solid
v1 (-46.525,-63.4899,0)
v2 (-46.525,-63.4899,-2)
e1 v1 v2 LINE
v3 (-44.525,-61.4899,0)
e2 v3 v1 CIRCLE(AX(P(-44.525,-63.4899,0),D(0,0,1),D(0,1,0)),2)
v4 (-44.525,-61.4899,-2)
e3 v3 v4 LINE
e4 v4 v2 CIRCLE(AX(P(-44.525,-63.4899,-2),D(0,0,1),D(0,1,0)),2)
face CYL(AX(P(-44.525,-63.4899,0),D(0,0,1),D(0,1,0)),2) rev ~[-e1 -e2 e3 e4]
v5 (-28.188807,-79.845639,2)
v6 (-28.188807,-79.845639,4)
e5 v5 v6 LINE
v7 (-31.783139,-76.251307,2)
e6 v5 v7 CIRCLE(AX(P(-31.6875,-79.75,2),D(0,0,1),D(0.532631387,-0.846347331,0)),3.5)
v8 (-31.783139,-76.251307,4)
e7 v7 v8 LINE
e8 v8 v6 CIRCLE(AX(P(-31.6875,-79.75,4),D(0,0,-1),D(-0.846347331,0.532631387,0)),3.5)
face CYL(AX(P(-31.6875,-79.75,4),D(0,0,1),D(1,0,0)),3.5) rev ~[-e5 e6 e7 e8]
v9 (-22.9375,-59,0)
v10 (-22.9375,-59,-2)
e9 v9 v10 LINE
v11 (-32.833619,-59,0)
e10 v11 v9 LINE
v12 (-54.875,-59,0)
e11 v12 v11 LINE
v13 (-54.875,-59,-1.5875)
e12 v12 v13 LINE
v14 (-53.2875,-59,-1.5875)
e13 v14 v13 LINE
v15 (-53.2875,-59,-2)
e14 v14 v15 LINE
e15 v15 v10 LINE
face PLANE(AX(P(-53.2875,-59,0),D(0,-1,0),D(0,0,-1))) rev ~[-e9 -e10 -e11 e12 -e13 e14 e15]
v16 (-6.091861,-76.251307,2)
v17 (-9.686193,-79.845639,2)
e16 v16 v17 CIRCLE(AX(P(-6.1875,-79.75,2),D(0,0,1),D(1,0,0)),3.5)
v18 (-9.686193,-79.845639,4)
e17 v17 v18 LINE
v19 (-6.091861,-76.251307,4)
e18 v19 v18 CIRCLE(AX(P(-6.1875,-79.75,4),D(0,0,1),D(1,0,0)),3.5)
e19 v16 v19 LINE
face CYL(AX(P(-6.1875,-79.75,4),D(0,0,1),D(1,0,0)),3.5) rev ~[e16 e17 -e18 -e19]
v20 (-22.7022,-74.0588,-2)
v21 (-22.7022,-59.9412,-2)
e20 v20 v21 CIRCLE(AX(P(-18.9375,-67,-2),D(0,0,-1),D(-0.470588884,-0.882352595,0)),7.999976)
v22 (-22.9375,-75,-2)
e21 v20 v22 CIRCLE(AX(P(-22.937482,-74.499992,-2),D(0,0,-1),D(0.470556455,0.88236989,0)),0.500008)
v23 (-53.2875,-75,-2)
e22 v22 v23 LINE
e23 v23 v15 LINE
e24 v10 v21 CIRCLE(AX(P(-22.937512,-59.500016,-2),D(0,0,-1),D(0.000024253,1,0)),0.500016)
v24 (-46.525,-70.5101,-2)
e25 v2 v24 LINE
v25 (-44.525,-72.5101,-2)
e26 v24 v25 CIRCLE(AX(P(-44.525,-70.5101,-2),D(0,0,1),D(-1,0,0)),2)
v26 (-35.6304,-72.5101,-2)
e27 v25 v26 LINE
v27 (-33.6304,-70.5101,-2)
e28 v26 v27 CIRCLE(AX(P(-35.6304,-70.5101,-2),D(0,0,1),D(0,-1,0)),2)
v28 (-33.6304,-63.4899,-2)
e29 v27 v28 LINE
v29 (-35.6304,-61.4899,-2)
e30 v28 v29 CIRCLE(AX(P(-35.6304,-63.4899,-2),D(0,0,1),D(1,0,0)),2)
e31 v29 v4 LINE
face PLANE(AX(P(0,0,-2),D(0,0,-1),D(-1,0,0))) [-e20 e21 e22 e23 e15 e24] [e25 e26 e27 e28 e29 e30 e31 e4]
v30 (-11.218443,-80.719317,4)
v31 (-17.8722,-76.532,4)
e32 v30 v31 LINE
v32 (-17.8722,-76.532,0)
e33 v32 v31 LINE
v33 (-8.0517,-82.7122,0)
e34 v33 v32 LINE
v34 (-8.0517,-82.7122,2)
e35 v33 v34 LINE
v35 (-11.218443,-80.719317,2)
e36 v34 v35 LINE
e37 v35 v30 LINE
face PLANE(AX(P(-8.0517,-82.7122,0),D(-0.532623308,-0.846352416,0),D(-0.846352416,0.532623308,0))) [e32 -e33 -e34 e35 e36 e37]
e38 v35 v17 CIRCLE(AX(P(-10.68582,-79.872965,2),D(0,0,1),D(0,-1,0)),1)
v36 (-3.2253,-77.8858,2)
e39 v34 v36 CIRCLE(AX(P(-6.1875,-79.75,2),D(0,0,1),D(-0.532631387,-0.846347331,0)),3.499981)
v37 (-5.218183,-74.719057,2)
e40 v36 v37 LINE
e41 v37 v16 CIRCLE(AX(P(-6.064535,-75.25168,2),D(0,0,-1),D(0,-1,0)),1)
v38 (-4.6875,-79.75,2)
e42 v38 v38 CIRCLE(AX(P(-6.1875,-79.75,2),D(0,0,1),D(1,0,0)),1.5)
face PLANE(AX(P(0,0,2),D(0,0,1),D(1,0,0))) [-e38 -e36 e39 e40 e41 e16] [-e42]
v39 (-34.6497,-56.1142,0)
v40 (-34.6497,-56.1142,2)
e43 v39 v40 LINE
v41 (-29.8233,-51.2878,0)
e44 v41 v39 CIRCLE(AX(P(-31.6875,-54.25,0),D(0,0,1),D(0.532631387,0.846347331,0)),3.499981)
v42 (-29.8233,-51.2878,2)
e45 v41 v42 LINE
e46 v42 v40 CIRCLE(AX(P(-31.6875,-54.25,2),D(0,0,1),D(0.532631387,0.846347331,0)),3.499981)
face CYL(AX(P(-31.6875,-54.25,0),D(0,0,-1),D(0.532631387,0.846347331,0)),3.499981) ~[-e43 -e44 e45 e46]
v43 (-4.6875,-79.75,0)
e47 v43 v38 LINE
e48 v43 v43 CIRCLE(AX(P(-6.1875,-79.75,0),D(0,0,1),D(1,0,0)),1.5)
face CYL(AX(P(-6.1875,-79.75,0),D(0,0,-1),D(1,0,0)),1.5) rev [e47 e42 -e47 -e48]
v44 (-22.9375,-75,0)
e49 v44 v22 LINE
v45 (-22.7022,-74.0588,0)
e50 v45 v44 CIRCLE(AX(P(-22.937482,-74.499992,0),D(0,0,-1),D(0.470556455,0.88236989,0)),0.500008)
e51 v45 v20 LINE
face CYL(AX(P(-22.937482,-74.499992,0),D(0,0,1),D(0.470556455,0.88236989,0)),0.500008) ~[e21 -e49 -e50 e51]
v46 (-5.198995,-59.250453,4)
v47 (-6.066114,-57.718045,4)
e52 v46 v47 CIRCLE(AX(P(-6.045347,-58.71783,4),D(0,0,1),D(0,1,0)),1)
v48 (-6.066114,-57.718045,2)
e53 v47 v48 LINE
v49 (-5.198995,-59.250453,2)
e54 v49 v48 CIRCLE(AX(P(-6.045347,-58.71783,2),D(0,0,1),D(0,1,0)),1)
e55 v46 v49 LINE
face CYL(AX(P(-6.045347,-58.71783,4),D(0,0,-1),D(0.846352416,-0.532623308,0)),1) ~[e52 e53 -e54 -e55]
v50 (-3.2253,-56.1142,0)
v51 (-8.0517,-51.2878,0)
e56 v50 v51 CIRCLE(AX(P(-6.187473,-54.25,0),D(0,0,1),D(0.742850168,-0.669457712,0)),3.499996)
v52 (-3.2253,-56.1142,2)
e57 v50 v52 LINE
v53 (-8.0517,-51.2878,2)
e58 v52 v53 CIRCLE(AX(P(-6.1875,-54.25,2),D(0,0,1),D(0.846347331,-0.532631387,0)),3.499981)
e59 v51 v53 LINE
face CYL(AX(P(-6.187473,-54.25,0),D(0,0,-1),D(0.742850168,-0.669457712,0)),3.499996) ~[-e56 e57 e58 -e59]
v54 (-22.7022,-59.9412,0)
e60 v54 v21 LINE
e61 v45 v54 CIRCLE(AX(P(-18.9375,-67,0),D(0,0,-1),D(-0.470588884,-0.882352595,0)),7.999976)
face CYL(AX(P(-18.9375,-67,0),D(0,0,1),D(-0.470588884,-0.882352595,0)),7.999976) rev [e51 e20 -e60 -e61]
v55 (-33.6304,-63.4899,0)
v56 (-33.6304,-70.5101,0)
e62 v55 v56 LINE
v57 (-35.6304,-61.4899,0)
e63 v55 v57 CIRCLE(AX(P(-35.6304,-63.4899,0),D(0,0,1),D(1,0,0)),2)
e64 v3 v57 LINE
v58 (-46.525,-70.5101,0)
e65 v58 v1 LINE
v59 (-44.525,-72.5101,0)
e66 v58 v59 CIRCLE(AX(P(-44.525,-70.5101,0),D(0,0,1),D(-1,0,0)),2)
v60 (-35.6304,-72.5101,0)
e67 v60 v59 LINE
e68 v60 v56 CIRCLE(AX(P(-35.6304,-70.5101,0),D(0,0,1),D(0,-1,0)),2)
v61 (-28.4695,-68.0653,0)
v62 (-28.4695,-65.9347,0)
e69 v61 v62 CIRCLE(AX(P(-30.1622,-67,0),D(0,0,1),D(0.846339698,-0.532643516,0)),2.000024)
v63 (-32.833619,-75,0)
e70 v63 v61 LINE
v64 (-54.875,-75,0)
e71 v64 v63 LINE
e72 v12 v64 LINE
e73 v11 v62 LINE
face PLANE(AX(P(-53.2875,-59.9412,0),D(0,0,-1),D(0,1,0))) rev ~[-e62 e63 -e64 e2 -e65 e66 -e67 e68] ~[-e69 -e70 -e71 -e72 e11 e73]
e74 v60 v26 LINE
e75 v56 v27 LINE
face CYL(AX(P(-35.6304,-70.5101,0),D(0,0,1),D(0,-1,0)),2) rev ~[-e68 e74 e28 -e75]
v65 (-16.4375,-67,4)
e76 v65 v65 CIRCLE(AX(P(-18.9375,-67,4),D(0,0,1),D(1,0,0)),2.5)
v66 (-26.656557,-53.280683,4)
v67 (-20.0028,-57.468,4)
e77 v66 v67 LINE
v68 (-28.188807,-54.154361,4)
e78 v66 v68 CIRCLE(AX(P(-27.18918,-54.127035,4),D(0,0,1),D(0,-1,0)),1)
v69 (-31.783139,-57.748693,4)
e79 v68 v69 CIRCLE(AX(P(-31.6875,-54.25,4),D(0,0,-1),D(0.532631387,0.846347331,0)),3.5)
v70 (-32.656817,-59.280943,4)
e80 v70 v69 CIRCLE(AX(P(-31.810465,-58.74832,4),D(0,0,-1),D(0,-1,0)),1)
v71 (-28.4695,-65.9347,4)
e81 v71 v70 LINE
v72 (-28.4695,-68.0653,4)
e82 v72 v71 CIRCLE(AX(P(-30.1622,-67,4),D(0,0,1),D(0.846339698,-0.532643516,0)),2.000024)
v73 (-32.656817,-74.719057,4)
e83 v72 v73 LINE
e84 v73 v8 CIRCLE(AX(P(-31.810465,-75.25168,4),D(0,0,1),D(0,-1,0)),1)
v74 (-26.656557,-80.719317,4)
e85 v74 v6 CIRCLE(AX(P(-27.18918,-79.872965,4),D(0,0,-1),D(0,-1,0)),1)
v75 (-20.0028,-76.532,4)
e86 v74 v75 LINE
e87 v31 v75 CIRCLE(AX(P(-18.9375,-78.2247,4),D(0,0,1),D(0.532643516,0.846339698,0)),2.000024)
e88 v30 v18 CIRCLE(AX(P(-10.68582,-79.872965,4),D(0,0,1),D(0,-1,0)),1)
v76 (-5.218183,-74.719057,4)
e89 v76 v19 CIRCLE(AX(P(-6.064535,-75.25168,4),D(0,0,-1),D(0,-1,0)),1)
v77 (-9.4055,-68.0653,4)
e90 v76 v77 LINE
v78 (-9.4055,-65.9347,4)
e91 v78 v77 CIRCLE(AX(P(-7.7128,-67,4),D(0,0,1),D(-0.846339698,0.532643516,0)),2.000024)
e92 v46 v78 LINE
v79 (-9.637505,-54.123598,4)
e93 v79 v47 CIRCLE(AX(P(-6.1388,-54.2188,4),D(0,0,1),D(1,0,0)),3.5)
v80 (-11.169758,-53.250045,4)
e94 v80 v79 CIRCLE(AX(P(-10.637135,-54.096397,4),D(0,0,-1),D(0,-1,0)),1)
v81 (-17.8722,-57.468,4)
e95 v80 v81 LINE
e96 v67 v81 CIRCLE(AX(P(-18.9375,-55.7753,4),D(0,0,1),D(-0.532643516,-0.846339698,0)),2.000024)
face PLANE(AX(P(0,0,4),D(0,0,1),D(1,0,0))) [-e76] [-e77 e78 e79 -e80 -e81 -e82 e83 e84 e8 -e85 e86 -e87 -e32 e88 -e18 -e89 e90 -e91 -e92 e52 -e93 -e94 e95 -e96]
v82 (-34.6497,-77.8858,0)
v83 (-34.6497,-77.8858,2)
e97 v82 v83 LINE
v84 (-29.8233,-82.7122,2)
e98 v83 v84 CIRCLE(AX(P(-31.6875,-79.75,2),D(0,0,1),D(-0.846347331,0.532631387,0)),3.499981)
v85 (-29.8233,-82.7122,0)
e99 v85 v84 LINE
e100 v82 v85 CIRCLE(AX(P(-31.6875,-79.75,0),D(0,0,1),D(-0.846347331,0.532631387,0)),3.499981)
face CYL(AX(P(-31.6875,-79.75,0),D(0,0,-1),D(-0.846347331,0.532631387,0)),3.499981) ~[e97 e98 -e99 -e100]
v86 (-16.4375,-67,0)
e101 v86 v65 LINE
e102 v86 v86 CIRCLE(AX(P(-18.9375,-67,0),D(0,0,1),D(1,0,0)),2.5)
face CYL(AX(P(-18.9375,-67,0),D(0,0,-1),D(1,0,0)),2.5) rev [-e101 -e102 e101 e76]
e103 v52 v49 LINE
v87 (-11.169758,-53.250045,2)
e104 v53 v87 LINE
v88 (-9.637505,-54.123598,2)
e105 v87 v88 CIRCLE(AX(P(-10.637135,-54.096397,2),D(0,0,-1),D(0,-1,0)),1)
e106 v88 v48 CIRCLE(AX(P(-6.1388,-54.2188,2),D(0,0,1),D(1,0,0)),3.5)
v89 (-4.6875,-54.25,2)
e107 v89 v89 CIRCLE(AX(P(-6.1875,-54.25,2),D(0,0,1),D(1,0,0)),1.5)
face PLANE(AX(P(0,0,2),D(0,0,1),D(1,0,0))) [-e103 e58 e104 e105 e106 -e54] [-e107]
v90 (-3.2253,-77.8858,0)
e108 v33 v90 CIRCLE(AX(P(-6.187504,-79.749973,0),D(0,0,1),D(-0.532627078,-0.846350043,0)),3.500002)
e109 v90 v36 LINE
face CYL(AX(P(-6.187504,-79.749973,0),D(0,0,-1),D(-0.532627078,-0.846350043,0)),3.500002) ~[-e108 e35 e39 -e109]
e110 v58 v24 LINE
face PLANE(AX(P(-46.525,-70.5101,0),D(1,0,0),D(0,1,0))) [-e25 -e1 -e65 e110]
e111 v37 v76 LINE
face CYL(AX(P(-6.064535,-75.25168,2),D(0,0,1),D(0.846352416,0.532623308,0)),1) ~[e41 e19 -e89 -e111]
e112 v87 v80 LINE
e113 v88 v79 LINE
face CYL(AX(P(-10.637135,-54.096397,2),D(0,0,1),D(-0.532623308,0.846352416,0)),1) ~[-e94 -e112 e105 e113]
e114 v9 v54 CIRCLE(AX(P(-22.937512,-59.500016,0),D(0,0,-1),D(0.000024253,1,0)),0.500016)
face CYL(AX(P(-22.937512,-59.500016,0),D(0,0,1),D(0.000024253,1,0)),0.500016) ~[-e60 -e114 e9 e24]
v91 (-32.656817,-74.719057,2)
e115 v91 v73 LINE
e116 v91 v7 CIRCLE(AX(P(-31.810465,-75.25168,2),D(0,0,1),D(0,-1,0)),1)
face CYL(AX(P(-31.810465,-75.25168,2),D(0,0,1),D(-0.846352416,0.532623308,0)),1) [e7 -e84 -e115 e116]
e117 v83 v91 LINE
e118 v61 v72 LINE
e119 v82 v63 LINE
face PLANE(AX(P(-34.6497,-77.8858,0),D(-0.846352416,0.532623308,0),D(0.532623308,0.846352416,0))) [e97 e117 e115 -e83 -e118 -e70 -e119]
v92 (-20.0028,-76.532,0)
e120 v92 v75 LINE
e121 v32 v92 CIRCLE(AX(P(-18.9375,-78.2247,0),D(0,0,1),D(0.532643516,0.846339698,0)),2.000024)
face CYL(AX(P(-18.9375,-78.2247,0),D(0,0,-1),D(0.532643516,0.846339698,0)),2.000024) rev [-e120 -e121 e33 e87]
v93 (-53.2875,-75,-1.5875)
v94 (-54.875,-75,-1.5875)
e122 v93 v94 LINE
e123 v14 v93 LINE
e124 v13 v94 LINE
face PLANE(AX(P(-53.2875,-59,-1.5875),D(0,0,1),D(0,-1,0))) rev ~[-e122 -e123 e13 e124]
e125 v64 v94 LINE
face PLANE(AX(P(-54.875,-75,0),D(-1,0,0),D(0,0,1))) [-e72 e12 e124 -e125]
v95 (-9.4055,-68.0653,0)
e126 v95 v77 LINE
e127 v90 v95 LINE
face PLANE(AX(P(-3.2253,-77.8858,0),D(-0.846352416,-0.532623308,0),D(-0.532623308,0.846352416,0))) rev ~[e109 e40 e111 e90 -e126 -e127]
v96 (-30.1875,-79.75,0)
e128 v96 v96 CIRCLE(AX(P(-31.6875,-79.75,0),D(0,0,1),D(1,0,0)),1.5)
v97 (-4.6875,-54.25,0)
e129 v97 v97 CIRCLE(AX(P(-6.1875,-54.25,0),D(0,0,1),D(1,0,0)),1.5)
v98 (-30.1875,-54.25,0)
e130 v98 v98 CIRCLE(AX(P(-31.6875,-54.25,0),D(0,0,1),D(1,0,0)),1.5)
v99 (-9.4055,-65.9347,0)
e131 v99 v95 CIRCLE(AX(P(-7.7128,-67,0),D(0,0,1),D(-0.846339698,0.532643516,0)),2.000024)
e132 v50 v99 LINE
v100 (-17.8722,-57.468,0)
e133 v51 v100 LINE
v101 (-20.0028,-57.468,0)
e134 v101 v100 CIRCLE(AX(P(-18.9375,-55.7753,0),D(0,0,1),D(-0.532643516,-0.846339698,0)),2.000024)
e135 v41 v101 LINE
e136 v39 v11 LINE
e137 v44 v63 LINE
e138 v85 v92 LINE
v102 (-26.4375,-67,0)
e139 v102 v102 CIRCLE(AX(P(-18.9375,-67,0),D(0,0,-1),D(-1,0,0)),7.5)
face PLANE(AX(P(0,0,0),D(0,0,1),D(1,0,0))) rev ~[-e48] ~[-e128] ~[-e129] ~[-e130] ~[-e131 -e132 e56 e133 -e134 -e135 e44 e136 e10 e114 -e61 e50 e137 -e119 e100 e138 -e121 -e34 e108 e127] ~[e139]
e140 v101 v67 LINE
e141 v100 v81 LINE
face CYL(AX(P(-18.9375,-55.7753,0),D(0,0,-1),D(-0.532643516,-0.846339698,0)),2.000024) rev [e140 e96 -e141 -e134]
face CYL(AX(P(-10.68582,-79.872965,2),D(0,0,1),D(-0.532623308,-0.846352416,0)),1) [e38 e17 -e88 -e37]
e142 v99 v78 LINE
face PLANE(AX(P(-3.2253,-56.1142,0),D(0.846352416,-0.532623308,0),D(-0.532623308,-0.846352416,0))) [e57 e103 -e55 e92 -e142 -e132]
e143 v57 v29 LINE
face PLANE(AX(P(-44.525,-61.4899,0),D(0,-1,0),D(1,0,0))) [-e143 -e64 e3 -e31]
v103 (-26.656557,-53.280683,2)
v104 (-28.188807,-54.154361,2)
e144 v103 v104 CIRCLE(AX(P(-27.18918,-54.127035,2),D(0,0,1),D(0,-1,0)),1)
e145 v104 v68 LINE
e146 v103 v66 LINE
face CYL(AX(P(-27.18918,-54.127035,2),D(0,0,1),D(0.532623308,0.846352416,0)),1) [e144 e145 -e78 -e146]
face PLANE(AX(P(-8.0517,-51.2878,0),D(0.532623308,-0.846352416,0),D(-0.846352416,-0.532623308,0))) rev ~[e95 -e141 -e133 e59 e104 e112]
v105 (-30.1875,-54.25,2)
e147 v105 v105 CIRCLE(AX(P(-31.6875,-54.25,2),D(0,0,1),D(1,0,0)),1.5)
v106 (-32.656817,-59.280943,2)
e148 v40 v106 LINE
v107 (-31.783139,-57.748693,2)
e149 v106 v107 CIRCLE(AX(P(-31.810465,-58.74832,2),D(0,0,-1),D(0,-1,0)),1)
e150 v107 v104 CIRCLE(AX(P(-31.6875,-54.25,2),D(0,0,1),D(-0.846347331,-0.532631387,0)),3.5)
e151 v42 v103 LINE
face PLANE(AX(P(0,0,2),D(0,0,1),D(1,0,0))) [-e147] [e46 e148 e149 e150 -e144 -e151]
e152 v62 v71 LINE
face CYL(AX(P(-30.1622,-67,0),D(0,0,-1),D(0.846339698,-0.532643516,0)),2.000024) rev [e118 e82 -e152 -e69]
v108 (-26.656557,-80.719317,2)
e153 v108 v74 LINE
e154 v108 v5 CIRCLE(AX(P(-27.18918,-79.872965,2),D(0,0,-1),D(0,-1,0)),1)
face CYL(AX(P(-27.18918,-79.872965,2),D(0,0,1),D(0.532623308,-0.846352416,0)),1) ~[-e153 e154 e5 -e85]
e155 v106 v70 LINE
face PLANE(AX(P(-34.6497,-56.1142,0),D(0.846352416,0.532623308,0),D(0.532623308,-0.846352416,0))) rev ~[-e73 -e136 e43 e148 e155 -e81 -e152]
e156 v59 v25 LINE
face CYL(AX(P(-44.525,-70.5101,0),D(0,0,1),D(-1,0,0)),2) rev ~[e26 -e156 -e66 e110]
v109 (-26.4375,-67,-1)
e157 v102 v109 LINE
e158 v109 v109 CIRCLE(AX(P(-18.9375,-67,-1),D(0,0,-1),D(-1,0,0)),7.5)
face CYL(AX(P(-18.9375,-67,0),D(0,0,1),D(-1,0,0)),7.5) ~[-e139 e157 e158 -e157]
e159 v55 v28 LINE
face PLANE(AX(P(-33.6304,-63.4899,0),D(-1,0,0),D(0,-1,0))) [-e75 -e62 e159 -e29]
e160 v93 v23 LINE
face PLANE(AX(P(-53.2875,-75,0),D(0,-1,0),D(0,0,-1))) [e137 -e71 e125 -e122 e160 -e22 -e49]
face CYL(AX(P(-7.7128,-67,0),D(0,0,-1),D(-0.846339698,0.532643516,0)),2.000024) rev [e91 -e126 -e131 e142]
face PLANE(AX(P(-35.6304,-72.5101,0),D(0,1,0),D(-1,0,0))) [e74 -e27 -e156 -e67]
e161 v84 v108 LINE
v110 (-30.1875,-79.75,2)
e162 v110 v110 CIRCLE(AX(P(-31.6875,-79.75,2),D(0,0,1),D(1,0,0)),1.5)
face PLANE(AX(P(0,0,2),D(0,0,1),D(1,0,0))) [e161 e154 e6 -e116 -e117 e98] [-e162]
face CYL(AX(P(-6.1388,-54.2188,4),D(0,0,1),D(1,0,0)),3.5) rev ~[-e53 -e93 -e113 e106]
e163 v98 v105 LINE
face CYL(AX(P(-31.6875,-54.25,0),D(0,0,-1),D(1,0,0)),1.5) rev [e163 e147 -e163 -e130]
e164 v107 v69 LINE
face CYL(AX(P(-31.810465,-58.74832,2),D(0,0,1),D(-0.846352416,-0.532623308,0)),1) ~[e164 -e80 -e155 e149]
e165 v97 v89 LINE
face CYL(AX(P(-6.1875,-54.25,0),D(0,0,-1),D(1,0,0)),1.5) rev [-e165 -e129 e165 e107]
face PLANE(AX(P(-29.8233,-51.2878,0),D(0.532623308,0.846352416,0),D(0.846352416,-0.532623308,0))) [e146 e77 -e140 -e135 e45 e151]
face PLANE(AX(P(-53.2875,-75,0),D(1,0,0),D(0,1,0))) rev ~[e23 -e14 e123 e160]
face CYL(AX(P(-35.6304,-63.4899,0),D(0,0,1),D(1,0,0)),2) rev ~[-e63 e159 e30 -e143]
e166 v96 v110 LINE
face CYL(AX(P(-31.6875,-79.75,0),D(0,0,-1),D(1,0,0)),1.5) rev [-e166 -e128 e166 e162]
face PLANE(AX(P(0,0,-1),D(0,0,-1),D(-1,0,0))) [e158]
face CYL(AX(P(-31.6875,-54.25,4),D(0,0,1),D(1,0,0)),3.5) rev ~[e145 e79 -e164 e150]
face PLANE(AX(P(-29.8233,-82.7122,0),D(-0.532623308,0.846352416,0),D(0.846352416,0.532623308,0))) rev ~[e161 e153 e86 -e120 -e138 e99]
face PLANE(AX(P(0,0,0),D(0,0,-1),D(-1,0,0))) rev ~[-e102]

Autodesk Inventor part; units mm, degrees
ref_plane "YZ Plane" through (0, 0, 0) normal (1, 0, 0) x (0, 1, 0)
ref_plane "XZ Plane" through (0, 0, 0) normal (0, 1, 0) x (-1, 0, 0)
sketch "Sketch1" plane through (0, 0, 0) normal (0, 0, 1) x (1, 0, 0)
  line L0 (-1.5875, 0) -> (-1.5875, -108.1) projected
  line L1 (-54.875, 0) -> (-1.5875, 0) projected
  line L2 (-54.875, 0) -> (-54.875, -59) projected
  line L3 (-54.875, -59) -> (-18.9375, -59) projected
  arc A0 (-18.9375, -75) -> (-18.9375, -59) centre (-18.9375, -67) ccw projected
  line L4 (-18.9375, -75) -> (-54.875, -75) projected
  line L5 (-54.875, -75) -> (-54.875, -108.1) projected
  line L6 (-54.875, -108.1) -> (-1.5875, -108.1) projected
  circle A1 centre (-18.9375, -67) radius 2 projected
  circle A2 centre (-18.9375, -67) radius 2 projected
  circle A3 centre (-18.9375, -67) radius 7.5 projected
  line L7 (-6.1875, -79.75) -> (-31.6875, -79.75) construction
  line L8 (-31.6875, -79.75) -> (-31.6875, -54.25) construction
  line L9 (-31.6875, -54.25) -> (-6.1875, -54.25) construction
  line L10 (-6.1875, -54.25) -> (-6.1875, -79.75) construction
  line L11 (-18.9375, -79.75) -> (-18.9375, -54.25) construction
  line L12 (-31.6875, -67) -> (-6.1875, -67) construction
  circle A4 centre (-6.1875, -79.75) radius 1.5
  circle A5 centre (-31.6875, -79.75) radius 1.5
  circle A6 centre (-31.6875, -54.25) radius 1.5
  circle A7 centre (-6.1875, -54.25) radius 1.5
  circle A8 centre (-6.1875, -79.75) radius 2.6 construction
  circle A9 centre (-31.6875, -79.75) radius 2.6 construction
  circle A10 centre (-31.6875, -54.25) radius 2.6 construction
  circle A11 centre (-6.1875, -54.25) radius 2.6 construction
  line L13 (-3.5875, -79.75) -> (-3.5875, -54.25) construction
  arc A12 (-8.0517, -82.7122) -> (-3.5875, -77.4069) centre (-6.1875, -79.75) ccw
  arc A13 (-34.6497, -77.8858) -> (-29.8233, -82.7122) centre (-31.6875, -79.75) ccw
  arc A14 (-29.8233, -51.2878) -> (-34.6497, -56.1142) centre (-31.6875, -54.25) ccw
  arc A15 (-3.5875, -56.5931) -> (-8.0517, -51.2878) centre (-6.1875, -54.25) ccw
  line L14 (-8.0517, -82.7122) -> (-17.8722, -76.532)
  line L15 (-34.6497, -56.1142) -> (-28.4695, -65.9347)
  line L16 (-34.6497, -77.8858) -> (-28.4695, -68.0653)
  line L17 (-3.2253, -56.1142) -> (-9.4055, -65.9347)
  line L18 (-3.2253, -77.8858) -> (-9.4055, -68.0653)
  line L19 (-29.8233, -51.2878) -> (-20.0028, -57.468)
  line L20 (-8.0517, -51.2878) -> (-17.8722, -57.468)
  line L21 (-20.3773, -59) -> (-20.6867, -59.1936)
  line L22 (-29.8233, -82.7122) -> (-20.0028, -76.532)
  arc A16 (-20.0028, -57.468) -> (-17.8722, -57.468) centre (-18.9375, -55.7753) ccw
  arc A17 (-28.4695, -68.0653) -> (-28.4695, -65.9347) centre (-30.1622, -67) ccw
  arc A18 (-17.8722, -76.532) -> (-20.0028, -76.532) centre (-18.9375, -78.2247) ccw
  arc A19 (-9.4055, -65.9347) -> (-9.4055, -68.0653) centre (-7.7128, -67) ccw
  circle A20 centre (-18.9375, -67) radius 2.5
  circle A21 centre (-31.6875, -54.25) radius 2.6 projected
  circle A22 centre (-6.1875, -79.75) radius 2.6 projected
  circle A23 centre (-6.1875, -54.25) radius 2.6 projected
  circle A24 centre (-31.6875, -79.75) radius 2.6 projected
  point P0 (0, 0)
  point P1 (-27.7991, -67)
  point P2 (-10.0759, -67)
  point P3 (-18.9375, -58.1384)
  point P4 (-18.9375, -75.8616)
  dimension "d2" = 5.2
  dimension "d1" = 3
  dimension "d4" = 2
  dimension "d5" = 2
  dimension "d6" = 2
  dimension "d9" = 0.5
extrude "Extrusion1" add sketch "Sketch1" along normal blind 4 contours L15 A14 L19 A16 L20 A15 L17 A19 L18 A12 L14 A18 L22 A13 L16 L4 A0 L3 | L3 A0 L4 L16 A17 L15 | A3 | A21 | A22 | A23 | A24
sketch "Sketch2" plane through (0, 0, 0) normal (0, 0, -1) x (-1, 0, 0)
  circle A0 centre (18.9375, -67) radius 7.5 projected
  point P0 (0, 0)
extrude "Extrusion2" add sketch "Sketch2" along normal blind 1
sketch "Sketch3" plane through (0, 0, 0) normal (0, 0, -1) x (-1, 0, 0)
  line L0 (1.5875, 0) -> (1.5875, -108.1) projected
  line L1 (54.875, 0) -> (1.5875, 0) projected
  line L2 (54.875, 0) -> (54.875, -59) projected
  line L3 (54.875, -59) -> (18.9375, -59) projected
  arc A0 (18.9375, -59) -> (18.9375, -75) centre (18.9375, -67) ccw projected
  line L4 (18.9375, -75) -> (54.875, -75) projected
  line L5 (54.875, -75) -> (54.875, -108.1) projected
  line L6 (54.875, -108.1) -> (1.5875, -108.1) projected
  circle A1 centre (18.9375, -67) radius 7.5 projected
  arc A2 (18.9375, -59) -> (18.9375, -75) centre (18.9375, -67) ccw projected
  circle A3 centre (18.9375, -67) radius 2.5 projected
  arc A4 (22.7022, -74.0588) -> (22.7022, -59.9412) centre (18.9375, -67) ccw
  line L7 (53.2875, -108.1) -> (53.2875, 0) projected
  line L8 (54.875, 0) -> (54.875, -108.1) projected
  line L9 (53.2875, -59) -> (22.9375, -59)
  line L10 (18.9375, -59) -> (18.9375, -75)
  line L11 (22.9375, -75) -> (53.2875, -75)
  line L12 (53.2875, -75) -> (53.2875, -59)
  arc A5 (22.9375, -59) -> (22.7022, -59.9412) centre (22.9375, -59.5) ccw
  arc A6 (22.7022, -74.0588) -> (22.9375, -75) centre (22.9375, -74.5) ccw
  circle A7 centre (31.6875, -54.25) radius 2.6 projected
  circle A8 centre (6.1875, -79.75) radius 2.6 projected
  circle A9 centre (6.1875, -54.25) radius 2.6 projected
  circle A10 centre (31.6875, -79.75) radius 2.6 projected
  point P0 (0, 0)
  dimension "d12" = 0.5
extrude "Extrusion3" add sketch "Sketch3" along normal blind 2 contours L7 L4 A6 A4 A5 L3
sketch "Sketch4" plane through (-53.2875, -75, 0) normal (-1, 0, 0) x (0, 0, 1)
  line L0 (-1.5875, 75) -> (-1.5875, -33.1) projected
  line L1 (0, -33.1) -> (0, 75) projected
  line L2 (0, 15.0588) -> (0, 16) projected
  line L3 (0, 0) -> (-2, 0) projected
  line L4 (0, 16) -> (-1.5875, 16)
  line L5 (-1.5875, 16) -> (-1.5875, 0)
  line L6 (-1.5875, 0) -> (0, 0)
  line L7 (0, 0) -> (0, 16)
ref_plane "Work Plane1" through (-54.875, -108.1, -1.5875) normal (1, 0, 0) x (0, 1, 0)
extrude "Extrusion4" add sketch "Sketch4" along normal up to surface (1.5875 mm away)
sketch "Sketch5" plane through (0, 0, 4) normal (0, 0, 1) x (1, 0, 0)
  arc A0 (-28.4695, -68.0653) -> (-28.4695, -65.9347) centre (-30.1622, -67) ccw projected
  line L0 (-28.4695, -68.0653) -> (-34.6497, -77.8858) projected
  arc A1 (-34.6497, -77.8858) -> (-29.8233, -82.7122) centre (-31.6875, -79.75) ccw projected
  line L1 (-29.8233, -82.7122) -> (-20.0028, -76.532) projected
  arc A2 (-17.8722, -76.532) -> (-20.0028, -76.532) centre (-18.9375, -78.2247) ccw projected
  line L2 (-17.8722, -76.532) -> (-8.0517, -82.7122) projected
  arc A3 (-8.0517, -82.7122) -> (-3.2253, -77.8858) centre (-6.1875, -79.75) ccw projected
  line L3 (-3.2253, -77.8858) -> (-9.4055, -68.0653) projected
  arc A4 (-9.4055, -65.9347) -> (-9.4055, -68.0653) centre (-7.7128, -67) ccw projected
  line L4 (-9.4055, -65.9347) -> (-3.2253, -56.1142) projected
  arc A5 (-3.2253, -56.1142) -> (-8.0517, -51.2878) centre (-6.1875, -54.25) ccw projected
  line L5 (-8.0517, -51.2878) -> (-17.8722, -57.468) projected
  arc A6 (-20.0028, -57.468) -> (-17.8722, -57.468) centre (-18.9375, -55.7753) ccw projected
  line L6 (-20.0028, -57.468) -> (-29.8233, -51.2878) projected
  arc A7 (-29.8233, -51.2878) -> (-34.6497, -56.1142) centre (-31.6875, -54.25) ccw projected
  line L7 (-34.6497, -56.1142) -> (-28.4695, -65.9347) projected
  circle A8 centre (-18.9375, -67) radius 2.5 projected
  circle A9 centre (-6.1875, -54.25) radius 1.5 projected
  circle A10 centre (-31.6875, -54.25) radius 1.5 projected
  circle A11 centre (-31.6875, -79.75) radius 1.5 projected
  circle A12 centre (-6.1875, -79.75) radius 1.5 projected
  circle A13 centre (-31.6875, -79.75) radius 3.5
  circle A14 centre (-31.6875, -54.25) radius 1.5 projected
  circle A15 centre (-31.6875, -54.25) radius 3.5
  circle A16 centre (-6.1875, -79.75) radius 3.5
  arc A17 (-3.2253, -56.1142) -> (-8.0517, -51.2878) centre (-6.1875, -54.25) ccw projected
  circle A18 centre (-6.1388, -54.2188) radius 3.5
  point P0 (0, 0)
  point P1 (-34.6497, -56.1142)
  point P2 (-29.8233, -51.2878)
  point P3 (-2.2565, -55.1629)
  point P4 (-3.2253, -77.8858)
  point P5 (-8.0517, -82.7122)
  point P6 (-29.8233, -82.7122)
  point P7 (-3.4179, -56.4203)
extrude "Extrusion5" cut sketch "Sketch5" against normal blind 2 contours A13 A1 | A7 A15 | A16 A3 | A5 L4 A18 picked at (-4.1737, -56.2279)
fillet "Fillet1" radius 1 10 edges at (-8.0517, -82.7122, 3) (-3.2253, -77.8858, 3) (-3.2253, -56.1142, 1) (-8.0517, -51.2878, 1) (-29.8233, -51.2878, 3) (-34.6497, -56.1142, 3) (-34.6497, -77.8858, 3) (-29.8233, -82.7122, 3) (-3.4179, -56.4203, 3) (-8.0517, -51.2878, 3)
sketch "Sketch6" plane through (0, 0, 0) normal (0, 0, 1) x (1, 0, 0)
  line L0 (-32.8336, -59) -> (-28.4695, -65.9347) projected
  line L1 (-32.8336, -59) -> (-54.875, -59) projected
  line L2 (-54.875, -75) -> (-54.875, -59) projected
  line L3 (-32.8336, -75) -> (-54.875, -75) projected
  line L4 (-28.4695, -68.0653) -> (-32.8336, -75) projected
  arc A0 (-28.4695, -68.0653) -> (-28.4695, -65.9347) centre (-30.1622, -67) ccw projected
  line L5 (-53.2875, 0) -> (-53.2875, -108.1) projected
  line L6 (-35.6304, -72.5101) -> (-44.525, -72.5101)
  line L7 (-46.525, -70.5101) -> (-46.525, -63.4899)
  line L8 (-44.525, -61.4899) -> (-35.6304, -61.4899)
  line L9 (-33.6304, -63.4899) -> (-33.6304, -70.5101)
  line L10 (-28.1622, -67) -> (-54.875, -67) construction
  line L11 (-54.875, -59) -> (-54.875, -75) construction
  line L12 (-48.525, -39.75) -> (-48.525, -93.75) construction
  arc A1 (-35.6304, -72.5101) -> (-33.6304, -70.5101) centre (-35.6304, -70.5101) ccw
  arc A2 (-46.525, -70.5101) -> (-44.525, -72.5101) centre (-44.525, -70.5101) ccw
  arc A3 (-44.525, -61.4899) -> (-46.525, -63.4899) centre (-44.525, -63.4899) ccw
  arc A4 (-33.6304, -63.4899) -> (-35.6304, -61.4899) centre (-35.6304, -63.4899) ccw
  point P0 (0, 0)
  dimension "d20" = 2
  dimension "d21" = 2
extrude "Extrusion6" cut sketch "Sketch6" against normal through all contours L6 A2 L7 A3 L8 A4 L9 A1
properties part number "TurretBase"
